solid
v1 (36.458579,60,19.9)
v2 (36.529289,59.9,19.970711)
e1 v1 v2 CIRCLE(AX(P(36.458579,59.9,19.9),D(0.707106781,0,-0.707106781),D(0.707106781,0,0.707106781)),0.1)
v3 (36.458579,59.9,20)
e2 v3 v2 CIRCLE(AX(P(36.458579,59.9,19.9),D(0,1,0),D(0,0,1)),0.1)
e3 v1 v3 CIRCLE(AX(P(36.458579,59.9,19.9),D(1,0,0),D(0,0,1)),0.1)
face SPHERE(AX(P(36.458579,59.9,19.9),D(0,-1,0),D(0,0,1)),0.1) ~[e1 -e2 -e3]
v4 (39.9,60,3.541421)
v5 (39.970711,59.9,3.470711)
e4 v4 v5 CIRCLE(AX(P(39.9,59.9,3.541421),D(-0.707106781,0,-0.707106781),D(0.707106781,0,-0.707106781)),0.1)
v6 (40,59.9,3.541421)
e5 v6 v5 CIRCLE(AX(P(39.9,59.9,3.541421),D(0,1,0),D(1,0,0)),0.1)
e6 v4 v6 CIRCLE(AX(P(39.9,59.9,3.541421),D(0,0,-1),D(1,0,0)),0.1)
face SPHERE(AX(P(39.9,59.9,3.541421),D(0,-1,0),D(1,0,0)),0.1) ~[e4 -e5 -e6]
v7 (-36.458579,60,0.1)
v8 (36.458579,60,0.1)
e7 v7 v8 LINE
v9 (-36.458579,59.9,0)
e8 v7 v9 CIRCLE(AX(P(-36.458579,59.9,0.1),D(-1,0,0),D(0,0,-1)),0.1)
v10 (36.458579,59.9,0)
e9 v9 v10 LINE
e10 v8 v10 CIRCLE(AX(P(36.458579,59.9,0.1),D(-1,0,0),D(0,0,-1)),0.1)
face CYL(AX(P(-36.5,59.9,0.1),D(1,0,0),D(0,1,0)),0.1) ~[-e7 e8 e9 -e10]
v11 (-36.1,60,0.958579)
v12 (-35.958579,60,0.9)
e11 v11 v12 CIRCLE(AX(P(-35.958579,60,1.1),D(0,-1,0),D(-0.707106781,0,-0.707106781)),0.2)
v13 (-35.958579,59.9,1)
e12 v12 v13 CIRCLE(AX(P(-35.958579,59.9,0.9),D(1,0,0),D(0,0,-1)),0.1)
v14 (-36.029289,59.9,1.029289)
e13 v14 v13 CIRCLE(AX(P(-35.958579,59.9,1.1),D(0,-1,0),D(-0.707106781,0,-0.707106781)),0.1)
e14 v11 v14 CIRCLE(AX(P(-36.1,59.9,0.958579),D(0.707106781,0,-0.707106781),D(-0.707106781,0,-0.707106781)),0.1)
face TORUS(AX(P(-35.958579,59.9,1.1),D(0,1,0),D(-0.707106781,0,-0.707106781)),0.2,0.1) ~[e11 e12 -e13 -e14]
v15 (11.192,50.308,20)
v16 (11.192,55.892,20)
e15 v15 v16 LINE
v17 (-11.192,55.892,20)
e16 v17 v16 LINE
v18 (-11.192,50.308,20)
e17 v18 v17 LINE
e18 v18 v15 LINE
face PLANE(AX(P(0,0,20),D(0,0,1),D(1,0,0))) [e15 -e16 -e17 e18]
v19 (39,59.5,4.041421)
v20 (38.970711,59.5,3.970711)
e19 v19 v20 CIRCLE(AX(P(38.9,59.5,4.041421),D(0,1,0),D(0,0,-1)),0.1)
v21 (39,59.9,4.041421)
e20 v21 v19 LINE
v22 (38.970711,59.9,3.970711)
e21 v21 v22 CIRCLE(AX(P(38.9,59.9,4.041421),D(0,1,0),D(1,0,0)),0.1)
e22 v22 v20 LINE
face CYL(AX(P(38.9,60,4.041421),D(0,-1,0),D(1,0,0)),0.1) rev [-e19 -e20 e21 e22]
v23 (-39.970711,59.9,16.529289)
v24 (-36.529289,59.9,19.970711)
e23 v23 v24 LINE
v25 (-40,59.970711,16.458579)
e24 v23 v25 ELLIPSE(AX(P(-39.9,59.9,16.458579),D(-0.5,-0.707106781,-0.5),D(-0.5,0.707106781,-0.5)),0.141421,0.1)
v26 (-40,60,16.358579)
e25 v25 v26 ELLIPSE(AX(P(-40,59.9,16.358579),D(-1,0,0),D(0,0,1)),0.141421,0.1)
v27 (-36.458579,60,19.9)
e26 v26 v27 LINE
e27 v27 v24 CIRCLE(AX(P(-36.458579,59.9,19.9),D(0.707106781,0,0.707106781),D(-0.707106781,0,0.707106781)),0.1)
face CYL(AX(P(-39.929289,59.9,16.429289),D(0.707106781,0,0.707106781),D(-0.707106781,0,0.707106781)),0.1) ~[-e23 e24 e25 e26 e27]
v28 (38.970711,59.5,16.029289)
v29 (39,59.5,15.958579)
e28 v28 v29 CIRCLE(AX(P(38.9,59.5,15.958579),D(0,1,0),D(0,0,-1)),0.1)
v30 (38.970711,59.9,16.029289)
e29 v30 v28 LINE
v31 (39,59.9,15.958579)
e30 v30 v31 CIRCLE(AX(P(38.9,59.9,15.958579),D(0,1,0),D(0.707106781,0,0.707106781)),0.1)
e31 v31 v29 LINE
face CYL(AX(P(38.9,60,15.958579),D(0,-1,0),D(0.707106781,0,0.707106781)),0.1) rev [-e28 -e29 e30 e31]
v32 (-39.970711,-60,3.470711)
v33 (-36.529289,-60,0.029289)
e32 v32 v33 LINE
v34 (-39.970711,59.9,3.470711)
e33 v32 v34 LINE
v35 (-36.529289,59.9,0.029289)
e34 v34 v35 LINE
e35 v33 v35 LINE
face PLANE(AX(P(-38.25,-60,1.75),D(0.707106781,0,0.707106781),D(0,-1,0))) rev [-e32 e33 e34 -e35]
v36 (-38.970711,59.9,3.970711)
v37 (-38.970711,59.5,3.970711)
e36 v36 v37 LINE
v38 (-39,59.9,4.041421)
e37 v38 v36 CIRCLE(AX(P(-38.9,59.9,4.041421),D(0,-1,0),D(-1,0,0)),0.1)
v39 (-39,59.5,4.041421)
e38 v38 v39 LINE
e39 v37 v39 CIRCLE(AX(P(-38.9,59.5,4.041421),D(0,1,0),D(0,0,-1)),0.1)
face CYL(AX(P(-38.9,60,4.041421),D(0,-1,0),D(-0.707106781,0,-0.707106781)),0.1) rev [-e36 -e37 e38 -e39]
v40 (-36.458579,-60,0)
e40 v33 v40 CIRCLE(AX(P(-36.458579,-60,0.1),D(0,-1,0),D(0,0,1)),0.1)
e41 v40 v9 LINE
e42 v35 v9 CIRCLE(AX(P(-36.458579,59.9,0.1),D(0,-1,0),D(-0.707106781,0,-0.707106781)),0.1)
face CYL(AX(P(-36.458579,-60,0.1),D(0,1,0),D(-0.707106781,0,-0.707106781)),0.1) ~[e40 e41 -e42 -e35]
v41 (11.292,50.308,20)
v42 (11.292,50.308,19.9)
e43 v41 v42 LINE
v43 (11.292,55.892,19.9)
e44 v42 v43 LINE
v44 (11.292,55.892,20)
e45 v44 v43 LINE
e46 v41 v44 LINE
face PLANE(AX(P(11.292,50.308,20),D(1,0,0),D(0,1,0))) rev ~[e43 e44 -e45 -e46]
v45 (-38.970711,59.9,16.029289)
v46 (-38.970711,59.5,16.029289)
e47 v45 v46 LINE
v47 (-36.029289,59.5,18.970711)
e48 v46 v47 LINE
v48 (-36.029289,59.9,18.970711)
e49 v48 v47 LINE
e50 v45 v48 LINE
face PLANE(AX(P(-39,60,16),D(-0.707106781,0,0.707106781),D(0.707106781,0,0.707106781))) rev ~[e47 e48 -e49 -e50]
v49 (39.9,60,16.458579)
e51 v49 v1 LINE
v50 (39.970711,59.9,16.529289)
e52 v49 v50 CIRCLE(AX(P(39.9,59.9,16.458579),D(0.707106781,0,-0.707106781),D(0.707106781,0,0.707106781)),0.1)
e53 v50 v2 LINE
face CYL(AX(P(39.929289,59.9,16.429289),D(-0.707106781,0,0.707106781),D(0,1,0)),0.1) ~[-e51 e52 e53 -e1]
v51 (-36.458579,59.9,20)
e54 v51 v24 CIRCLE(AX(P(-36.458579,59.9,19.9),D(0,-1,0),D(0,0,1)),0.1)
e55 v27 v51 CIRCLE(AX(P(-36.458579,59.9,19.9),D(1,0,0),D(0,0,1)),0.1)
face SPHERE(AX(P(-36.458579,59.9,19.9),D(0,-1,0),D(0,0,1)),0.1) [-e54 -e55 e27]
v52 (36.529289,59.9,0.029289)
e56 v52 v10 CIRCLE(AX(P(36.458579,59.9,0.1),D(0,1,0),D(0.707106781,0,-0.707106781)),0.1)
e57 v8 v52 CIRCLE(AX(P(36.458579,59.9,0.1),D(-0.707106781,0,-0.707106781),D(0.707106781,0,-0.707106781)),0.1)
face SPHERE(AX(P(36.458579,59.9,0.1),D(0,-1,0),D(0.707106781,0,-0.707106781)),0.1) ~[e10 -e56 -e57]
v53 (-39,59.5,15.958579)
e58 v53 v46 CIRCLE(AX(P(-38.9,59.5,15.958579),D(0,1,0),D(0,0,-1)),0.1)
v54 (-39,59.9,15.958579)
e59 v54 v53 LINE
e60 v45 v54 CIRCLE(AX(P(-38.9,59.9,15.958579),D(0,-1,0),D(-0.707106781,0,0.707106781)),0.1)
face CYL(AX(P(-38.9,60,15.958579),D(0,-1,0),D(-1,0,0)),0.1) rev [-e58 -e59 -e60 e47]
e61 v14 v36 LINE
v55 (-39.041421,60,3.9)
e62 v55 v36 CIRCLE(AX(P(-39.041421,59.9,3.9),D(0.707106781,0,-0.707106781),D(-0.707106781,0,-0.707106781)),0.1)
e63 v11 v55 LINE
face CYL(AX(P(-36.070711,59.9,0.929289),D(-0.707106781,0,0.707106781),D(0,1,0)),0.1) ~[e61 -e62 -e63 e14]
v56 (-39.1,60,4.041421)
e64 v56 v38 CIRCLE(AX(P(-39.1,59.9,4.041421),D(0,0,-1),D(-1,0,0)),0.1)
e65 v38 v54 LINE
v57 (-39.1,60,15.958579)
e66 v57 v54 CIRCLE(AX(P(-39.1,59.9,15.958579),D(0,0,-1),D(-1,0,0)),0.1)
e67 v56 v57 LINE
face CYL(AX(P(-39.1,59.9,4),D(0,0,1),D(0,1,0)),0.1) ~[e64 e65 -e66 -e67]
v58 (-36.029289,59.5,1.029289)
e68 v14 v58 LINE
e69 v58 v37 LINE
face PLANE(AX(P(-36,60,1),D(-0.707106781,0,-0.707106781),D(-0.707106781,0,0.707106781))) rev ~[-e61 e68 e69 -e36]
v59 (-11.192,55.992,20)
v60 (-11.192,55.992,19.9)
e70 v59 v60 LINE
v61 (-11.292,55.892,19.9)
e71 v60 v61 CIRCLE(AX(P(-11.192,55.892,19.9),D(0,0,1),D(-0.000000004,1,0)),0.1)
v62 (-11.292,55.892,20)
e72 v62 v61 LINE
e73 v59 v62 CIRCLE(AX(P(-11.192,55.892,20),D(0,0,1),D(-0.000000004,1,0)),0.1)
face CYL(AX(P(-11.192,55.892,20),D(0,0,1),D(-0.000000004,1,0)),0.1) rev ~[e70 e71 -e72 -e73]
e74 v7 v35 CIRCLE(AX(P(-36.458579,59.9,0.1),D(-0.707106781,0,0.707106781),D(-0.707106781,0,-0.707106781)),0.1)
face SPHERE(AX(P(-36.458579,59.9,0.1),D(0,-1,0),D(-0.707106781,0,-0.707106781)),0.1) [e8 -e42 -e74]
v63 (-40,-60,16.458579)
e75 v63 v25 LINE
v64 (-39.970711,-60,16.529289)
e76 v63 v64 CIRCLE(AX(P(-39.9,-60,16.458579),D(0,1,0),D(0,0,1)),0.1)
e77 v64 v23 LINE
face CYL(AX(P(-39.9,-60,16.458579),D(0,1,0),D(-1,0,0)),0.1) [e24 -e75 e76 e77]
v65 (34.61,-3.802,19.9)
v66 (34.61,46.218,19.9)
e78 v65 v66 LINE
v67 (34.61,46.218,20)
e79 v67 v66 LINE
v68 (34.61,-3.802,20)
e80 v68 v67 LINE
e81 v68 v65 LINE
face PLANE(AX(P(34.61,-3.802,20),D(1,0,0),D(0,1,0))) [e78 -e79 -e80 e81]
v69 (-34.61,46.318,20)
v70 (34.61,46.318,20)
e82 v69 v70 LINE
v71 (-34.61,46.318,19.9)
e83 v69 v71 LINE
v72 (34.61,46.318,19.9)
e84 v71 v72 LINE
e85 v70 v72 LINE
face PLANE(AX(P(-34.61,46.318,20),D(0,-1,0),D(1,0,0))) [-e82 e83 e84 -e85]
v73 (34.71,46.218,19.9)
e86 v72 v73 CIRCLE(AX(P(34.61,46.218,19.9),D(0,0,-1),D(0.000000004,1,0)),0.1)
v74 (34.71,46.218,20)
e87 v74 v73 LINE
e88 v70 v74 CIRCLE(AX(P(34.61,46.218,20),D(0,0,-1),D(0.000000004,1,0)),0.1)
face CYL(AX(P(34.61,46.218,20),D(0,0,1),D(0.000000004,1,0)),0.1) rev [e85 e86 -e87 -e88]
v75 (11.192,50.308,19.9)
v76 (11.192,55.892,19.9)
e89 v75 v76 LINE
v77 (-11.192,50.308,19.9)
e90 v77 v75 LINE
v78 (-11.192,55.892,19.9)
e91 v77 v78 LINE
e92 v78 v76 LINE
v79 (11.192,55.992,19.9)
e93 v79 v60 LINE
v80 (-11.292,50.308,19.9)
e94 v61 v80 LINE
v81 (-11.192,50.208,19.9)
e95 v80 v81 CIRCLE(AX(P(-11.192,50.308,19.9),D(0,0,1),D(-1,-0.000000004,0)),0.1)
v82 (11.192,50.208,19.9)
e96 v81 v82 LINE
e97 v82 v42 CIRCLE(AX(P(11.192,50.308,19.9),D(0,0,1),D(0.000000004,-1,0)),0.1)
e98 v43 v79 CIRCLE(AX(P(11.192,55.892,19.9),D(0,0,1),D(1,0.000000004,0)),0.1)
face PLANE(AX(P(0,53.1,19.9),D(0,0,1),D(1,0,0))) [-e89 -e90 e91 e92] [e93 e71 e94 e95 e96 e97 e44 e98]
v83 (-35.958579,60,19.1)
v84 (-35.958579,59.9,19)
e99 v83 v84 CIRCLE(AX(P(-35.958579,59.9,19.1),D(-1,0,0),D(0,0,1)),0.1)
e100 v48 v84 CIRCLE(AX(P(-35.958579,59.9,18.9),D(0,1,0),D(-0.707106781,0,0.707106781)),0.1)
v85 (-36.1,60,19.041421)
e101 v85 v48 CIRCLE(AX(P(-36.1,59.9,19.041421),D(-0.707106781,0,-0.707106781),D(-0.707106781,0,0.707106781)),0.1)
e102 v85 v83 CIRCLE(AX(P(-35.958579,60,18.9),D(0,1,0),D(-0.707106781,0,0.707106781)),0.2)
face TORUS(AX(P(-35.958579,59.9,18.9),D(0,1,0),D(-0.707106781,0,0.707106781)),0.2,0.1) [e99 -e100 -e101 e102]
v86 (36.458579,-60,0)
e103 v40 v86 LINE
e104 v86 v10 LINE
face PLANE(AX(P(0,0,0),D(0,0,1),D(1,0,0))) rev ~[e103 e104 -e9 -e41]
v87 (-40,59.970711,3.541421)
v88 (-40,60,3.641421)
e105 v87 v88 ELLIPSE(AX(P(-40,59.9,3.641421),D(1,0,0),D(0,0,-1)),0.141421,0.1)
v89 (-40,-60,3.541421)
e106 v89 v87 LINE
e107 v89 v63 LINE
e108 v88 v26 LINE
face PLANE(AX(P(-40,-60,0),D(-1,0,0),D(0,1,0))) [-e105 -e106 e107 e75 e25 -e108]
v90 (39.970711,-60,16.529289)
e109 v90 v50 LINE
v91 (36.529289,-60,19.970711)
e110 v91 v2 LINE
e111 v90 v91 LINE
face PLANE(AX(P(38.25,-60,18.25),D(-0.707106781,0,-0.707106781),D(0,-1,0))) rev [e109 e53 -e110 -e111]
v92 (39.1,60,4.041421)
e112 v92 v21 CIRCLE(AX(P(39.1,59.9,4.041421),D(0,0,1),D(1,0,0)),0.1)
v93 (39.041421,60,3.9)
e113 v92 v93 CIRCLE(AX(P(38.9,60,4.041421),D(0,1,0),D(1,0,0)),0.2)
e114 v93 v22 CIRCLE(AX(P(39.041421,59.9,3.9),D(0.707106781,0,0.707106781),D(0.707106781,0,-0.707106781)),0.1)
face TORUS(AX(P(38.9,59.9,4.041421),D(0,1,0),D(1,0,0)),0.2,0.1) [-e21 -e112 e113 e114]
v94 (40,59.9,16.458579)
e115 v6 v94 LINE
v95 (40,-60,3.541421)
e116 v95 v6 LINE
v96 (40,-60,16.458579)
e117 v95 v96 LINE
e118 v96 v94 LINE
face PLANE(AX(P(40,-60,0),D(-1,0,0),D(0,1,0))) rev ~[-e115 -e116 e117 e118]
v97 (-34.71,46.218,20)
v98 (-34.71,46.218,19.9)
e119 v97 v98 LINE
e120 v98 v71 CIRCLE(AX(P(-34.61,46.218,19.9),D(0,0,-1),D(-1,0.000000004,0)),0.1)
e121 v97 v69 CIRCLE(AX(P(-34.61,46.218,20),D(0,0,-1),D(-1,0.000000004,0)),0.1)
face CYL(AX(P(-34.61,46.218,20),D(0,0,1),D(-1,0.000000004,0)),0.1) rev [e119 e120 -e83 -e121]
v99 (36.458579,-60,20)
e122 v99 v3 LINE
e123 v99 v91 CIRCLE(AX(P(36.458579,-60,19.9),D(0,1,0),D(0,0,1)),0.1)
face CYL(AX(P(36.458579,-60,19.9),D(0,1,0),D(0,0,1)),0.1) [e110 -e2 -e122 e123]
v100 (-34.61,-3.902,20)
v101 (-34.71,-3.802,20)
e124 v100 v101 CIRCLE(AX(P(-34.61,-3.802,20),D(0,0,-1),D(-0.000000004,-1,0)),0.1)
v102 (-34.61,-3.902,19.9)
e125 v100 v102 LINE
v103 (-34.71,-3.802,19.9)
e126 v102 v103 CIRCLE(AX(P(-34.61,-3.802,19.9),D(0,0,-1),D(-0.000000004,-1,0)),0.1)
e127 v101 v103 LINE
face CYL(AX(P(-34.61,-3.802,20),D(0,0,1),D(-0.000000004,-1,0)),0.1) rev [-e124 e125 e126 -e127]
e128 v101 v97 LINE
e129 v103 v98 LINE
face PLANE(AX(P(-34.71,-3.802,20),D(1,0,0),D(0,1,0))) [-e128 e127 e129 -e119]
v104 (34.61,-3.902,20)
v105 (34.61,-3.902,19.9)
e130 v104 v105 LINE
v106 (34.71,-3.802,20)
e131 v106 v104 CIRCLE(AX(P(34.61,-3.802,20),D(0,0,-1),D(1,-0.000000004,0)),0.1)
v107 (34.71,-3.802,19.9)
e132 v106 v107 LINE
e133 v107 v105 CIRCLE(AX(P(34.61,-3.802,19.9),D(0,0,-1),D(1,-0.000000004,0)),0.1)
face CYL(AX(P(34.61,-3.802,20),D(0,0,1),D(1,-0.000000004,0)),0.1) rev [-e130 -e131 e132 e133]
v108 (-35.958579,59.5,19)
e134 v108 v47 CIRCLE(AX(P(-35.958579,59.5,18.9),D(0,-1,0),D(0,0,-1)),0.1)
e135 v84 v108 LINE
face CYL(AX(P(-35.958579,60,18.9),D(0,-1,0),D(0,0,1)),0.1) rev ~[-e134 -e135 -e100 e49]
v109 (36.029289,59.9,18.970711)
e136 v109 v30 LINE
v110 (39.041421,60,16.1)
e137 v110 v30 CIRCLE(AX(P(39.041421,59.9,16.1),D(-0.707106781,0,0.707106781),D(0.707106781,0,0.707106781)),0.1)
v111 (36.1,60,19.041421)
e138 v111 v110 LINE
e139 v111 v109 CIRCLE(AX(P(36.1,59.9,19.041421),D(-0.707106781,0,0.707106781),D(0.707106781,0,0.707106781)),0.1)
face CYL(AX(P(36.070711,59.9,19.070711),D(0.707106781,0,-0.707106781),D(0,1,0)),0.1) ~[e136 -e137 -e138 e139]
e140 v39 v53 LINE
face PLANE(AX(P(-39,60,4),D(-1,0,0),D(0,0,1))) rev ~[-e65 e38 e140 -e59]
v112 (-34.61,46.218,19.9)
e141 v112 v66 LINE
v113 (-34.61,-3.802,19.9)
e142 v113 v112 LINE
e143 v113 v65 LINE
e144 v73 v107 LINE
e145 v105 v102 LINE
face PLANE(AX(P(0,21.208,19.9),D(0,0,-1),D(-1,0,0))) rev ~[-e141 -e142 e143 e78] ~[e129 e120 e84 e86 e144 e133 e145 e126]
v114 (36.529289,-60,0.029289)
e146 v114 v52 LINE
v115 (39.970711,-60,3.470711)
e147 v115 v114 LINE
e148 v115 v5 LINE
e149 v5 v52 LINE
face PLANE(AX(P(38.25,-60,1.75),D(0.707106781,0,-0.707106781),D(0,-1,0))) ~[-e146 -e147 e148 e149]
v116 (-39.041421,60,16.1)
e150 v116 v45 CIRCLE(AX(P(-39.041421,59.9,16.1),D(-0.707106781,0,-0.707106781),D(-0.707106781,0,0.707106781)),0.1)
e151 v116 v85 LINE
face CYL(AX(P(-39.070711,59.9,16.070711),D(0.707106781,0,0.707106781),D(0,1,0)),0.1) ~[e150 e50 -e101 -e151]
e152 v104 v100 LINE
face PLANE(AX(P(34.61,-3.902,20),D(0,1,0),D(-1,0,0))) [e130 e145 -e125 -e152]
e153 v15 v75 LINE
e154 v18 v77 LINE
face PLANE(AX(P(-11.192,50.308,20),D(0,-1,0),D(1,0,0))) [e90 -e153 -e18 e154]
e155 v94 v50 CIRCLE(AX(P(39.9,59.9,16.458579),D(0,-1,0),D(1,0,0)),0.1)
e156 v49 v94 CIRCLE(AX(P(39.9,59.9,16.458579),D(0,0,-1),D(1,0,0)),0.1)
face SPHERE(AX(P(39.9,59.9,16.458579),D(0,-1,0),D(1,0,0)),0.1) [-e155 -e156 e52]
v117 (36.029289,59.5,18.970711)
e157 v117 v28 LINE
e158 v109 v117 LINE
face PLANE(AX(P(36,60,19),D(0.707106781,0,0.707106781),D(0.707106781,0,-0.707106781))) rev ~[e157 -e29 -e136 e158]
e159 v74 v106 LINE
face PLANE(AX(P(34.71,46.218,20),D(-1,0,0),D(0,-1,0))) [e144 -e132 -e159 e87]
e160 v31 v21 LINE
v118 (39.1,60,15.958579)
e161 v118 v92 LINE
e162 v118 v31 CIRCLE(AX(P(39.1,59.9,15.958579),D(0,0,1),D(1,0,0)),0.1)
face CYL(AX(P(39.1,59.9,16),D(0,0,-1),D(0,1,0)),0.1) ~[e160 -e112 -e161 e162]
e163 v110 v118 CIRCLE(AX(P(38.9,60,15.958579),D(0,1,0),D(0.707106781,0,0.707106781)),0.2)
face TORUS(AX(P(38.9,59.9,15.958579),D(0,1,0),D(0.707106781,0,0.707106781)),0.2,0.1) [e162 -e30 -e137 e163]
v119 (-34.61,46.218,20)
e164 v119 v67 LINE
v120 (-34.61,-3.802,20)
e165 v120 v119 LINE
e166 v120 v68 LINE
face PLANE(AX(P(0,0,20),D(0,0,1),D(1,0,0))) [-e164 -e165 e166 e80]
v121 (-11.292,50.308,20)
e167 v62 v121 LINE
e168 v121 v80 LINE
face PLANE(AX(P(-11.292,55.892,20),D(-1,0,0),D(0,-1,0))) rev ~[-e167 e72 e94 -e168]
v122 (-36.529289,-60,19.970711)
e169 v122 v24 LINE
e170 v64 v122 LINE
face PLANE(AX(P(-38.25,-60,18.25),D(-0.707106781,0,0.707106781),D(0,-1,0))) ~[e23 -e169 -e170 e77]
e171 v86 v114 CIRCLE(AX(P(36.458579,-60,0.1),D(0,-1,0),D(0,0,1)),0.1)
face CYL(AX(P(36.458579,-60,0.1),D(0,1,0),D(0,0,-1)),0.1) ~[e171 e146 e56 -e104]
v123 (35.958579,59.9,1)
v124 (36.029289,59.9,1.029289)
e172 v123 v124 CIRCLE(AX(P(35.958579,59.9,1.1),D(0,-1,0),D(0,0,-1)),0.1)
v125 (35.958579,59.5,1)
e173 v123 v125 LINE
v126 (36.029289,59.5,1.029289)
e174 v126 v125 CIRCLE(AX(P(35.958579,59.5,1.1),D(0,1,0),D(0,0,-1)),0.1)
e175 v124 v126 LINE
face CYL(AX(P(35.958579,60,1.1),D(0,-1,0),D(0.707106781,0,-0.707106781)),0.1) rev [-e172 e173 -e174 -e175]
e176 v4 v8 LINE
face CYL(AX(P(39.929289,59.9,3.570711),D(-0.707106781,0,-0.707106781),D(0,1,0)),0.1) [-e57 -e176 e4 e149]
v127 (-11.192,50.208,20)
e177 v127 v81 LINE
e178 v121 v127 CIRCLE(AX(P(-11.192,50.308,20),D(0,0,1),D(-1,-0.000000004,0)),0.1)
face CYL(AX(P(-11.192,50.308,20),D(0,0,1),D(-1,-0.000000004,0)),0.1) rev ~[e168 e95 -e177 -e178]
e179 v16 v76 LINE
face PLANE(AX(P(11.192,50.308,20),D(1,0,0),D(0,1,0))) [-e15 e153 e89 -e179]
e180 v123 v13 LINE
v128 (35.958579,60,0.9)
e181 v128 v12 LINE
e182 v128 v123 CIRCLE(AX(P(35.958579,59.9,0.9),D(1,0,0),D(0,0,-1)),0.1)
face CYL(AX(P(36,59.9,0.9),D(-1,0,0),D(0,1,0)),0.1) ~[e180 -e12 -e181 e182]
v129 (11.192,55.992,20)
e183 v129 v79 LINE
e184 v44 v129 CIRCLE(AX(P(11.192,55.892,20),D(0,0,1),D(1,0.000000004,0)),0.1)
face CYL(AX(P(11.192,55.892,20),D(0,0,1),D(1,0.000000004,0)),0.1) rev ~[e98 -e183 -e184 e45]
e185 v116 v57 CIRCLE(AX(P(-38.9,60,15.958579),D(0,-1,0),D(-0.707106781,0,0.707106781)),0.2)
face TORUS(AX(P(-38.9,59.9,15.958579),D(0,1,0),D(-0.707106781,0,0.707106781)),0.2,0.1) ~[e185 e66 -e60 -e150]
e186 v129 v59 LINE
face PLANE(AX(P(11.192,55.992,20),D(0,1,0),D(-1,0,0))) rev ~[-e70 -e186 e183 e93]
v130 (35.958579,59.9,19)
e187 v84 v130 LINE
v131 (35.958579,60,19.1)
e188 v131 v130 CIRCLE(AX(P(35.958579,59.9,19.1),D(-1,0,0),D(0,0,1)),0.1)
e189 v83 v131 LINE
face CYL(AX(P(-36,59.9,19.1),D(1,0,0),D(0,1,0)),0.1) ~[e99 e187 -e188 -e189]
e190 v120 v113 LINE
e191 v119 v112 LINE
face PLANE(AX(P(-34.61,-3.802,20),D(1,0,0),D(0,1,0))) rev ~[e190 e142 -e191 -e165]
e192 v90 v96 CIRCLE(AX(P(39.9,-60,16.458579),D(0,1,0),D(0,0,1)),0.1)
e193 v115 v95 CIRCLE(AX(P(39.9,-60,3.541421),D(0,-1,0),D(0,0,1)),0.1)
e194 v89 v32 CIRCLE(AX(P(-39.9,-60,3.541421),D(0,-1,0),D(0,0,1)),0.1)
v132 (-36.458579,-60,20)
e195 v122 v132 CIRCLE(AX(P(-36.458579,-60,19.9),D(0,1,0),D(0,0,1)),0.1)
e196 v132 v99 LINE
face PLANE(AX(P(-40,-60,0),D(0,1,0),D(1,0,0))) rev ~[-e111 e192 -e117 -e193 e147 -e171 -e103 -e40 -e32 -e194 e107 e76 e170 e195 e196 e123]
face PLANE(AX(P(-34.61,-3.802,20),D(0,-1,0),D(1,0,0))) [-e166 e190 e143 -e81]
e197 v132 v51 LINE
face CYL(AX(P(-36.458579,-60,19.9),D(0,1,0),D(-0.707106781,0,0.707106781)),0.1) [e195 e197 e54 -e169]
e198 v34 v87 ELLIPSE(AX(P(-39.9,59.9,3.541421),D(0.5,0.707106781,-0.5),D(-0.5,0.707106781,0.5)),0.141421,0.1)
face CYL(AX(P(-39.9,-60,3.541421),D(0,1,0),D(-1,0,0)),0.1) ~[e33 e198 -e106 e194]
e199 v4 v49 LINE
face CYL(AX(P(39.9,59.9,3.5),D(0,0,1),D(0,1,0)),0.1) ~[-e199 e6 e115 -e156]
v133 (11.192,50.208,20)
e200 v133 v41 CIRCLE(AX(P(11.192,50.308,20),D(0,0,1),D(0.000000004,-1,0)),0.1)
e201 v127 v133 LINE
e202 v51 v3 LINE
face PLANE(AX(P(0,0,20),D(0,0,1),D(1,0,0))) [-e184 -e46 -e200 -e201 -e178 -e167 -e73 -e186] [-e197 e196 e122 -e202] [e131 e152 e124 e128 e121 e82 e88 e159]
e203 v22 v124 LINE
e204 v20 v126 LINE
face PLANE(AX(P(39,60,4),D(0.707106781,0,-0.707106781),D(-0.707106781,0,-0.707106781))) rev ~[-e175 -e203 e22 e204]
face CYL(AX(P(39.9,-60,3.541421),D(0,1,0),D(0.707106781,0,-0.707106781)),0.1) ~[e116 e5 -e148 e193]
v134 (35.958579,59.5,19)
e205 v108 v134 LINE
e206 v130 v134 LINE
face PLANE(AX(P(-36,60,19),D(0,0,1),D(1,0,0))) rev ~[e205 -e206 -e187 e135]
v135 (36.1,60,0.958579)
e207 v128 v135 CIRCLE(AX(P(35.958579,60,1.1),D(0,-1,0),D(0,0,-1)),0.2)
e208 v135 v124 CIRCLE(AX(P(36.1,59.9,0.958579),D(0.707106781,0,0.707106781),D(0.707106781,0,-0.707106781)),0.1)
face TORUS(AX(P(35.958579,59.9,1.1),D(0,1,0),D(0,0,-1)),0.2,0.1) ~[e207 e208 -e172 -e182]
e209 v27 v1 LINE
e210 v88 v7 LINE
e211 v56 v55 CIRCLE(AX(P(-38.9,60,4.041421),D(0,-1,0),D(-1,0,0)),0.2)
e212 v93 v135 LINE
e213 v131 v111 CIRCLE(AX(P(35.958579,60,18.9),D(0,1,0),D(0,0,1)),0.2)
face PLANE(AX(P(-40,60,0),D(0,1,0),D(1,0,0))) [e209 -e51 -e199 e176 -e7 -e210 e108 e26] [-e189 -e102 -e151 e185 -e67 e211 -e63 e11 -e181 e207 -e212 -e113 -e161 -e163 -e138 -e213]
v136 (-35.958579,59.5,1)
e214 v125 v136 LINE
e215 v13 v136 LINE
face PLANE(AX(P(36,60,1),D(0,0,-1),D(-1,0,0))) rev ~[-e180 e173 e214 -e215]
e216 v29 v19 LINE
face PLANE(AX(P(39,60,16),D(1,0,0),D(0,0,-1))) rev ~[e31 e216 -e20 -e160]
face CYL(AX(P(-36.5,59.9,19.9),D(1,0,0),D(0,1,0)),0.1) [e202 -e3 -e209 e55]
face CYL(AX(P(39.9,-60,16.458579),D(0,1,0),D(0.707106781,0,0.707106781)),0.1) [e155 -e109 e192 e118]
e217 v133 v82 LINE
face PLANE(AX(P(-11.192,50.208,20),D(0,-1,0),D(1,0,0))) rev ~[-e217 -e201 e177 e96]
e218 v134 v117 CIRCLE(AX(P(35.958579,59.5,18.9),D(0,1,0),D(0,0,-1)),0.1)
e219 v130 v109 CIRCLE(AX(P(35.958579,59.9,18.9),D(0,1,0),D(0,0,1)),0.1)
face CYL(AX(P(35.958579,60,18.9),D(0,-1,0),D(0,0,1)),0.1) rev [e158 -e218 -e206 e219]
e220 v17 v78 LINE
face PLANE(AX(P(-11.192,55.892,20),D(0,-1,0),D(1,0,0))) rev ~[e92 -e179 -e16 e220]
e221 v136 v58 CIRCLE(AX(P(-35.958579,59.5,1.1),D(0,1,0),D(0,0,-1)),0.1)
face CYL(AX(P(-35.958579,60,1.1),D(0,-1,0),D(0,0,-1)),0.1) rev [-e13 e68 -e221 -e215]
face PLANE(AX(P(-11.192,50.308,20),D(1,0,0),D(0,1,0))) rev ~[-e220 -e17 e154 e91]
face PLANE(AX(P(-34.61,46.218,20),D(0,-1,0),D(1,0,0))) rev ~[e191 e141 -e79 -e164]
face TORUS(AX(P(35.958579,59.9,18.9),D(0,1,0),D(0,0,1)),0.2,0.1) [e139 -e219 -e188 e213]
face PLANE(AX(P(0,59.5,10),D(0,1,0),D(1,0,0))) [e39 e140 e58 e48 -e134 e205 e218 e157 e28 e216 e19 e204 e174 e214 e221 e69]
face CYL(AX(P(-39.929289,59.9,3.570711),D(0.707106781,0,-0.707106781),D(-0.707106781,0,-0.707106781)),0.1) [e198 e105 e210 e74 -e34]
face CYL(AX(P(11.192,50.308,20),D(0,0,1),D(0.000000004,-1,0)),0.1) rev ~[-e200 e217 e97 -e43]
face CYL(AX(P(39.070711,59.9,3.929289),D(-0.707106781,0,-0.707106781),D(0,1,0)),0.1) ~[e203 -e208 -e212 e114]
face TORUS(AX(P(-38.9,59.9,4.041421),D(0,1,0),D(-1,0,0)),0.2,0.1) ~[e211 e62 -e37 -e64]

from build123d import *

# Parameters (mm, degrees)
SKETCH2_W           = 80
SKETCH2_H           = 120
BOSS_EXTRUDE1_DEPTH = 20
CHAMFER1_SIZE       = 3.5
CUT_EXTRUDE1_DEPTH  = 0.5
FILLET1_R           = 0.1
SKETCH4_W           = 22.384
SKETCH4_H           = 5.584
CUT_EXTRUDE2_DEPTH  = 0.1
SKETCH6_W           = 69.22
SKETCH6_H           = 50.02
CUT_EXTRUDE4_DEPTH  = 0.1


with BuildPart() as part:
    # Sketch2 → Boss-Extrude1 (new body)
    with BuildSketch(Plane.XY):
        Rectangle(SKETCH2_W, SKETCH2_H)
    extrude(amount=BOSS_EXTRUDE1_DEPTH)

    # Chamfer1
    chamfer1_edges = [part.edges().sort_by_distance(p)[0] for p in [
        (-40, 0, 20),
        (40, 0, 20),
        (-40, 0, 0),
        (40, 0, 0),
    ]]
    chamfer(chamfer1_edges, length=CHAMFER1_SIZE)

    # Sketch3 → Cut-Extrude1 (cut)
    with BuildSketch(Plane(origin=(0, 60, 0), x_dir=(1, 0, 0), z_dir=(0, 1, 0))):
        Polygon((-36, -19), (36, -19), (39, -16), (39, -4), (36, -1), (-36, -1), (-39, -4), (-39, -16), align=None)
    extrude(amount=-CUT_EXTRUDE1_DEPTH, mode=Mode.SUBTRACT)

    # Fillet1
    fillet1_edges = [part.edges().sort_by_distance(p)[0] for p in [
        (-40, 0, 16.5),
        (-40, 0, 3.5),
        (0, 60, 0),
        (36.5, 0, 0),
        (-36.5, 0, 0),
        (0, 60, 20),
        (40, 60, 10),
        (38.25, 60, 1.75),
        (38.25, 60, 18.25),
        (-38.25, 60, 18.25),
        (-38.25, 60, 1.75),
        (36.5, 0, 20),
        (-36.5, 0, 20),
        (40, 0, 3.5),
        (40, 0, 16.5),
        (-37.5, 60, 2.5),
        (-39, 59.75, 4),
        (0, 60, 1),
        (-36, 59.75, 1),
        (37.5, 60, 2.5),
        (36, 59.75, 1),
        (39, 59.75, 4),
        (39, 59.75, 16),
        (36, 59.75, 19),
        (-36, 59.75, 19),
        (-39, 60, 10),
        (-39, 59.75, 16),
        (-37.5, 60, 17.5),
        (0, 60, 19),
        (37.5, 60, 17.5),
        (39, 60, 10),
    ]]
    fillet(fillet1_edges, radius=FILLET1_R)

    # Sketch4 → Cut-Extrude2 (cut)
    with BuildSketch(Plane.XY.offset(20)):
        with BuildLine():
            Line((-11.192, 50.208), (11.192, 50.208))
            ThreePointArc((11.192, 50.208), (11.262710678, 50.237289322), (11.292, 50.308))
            Line((11.292, 50.308), (11.292, 55.892))
            ThreePointArc((11.292, 55.892), (11.262710678, 55.962710678), (11.192, 55.992))
            Line((11.192, 55.992), (-11.192, 55.992))
            ThreePointArc((-11.192, 55.992), (-11.262710678, 55.962710678), (-11.292, 55.892))
            Line((-11.292, 55.892), (-11.292, 50.308))
            ThreePointArc((-11.292, 50.308), (-11.262710678, 50.237289322), (-11.192, 50.208))
        make_face()
        with Locations((0, 53.1)):
            Rectangle(SKETCH4_W, SKETCH4_H, mode=Mode.SUBTRACT)
    extrude(amount=-CUT_EXTRUDE2_DEPTH, mode=Mode.SUBTRACT)

    # Sketch6 → Cut-Extrude4 (cut)
    with BuildSketch(Plane.XY.offset(20)):
        with BuildLine():
            ThreePointArc((-34.71, 46.218), (-34.680710678, 46.288710678), (-34.61, 46.318))
            Line((-34.61, 46.318), (34.61, 46.318))
            ThreePointArc((34.61, 46.318), (34.680710678, 46.288710678), (34.71, 46.218))
            Line((34.71, 46.218), (34.71, -3.802))
            ThreePointArc((34.71, -3.802), (34.680710678, -3.872710678), (34.61, -3.902))
            Line((34.61, -3.902), (-34.61, -3.902))
            ThreePointArc((-34.61, -3.902), (-34.680710678, -3.872710678), (-34.71, -3.802))
            Line((-34.71, -3.802), (-34.71, 46.218))
        make_face()
        with Locations((0, 21.208)):
            Rectangle(SKETCH6_W, SKETCH6_H, mode=Mode.SUBTRACT)
    extrude(amount=-CUT_EXTRUDE4_DEPTH, mode=Mode.SUBTRACT)


solid = part.part
